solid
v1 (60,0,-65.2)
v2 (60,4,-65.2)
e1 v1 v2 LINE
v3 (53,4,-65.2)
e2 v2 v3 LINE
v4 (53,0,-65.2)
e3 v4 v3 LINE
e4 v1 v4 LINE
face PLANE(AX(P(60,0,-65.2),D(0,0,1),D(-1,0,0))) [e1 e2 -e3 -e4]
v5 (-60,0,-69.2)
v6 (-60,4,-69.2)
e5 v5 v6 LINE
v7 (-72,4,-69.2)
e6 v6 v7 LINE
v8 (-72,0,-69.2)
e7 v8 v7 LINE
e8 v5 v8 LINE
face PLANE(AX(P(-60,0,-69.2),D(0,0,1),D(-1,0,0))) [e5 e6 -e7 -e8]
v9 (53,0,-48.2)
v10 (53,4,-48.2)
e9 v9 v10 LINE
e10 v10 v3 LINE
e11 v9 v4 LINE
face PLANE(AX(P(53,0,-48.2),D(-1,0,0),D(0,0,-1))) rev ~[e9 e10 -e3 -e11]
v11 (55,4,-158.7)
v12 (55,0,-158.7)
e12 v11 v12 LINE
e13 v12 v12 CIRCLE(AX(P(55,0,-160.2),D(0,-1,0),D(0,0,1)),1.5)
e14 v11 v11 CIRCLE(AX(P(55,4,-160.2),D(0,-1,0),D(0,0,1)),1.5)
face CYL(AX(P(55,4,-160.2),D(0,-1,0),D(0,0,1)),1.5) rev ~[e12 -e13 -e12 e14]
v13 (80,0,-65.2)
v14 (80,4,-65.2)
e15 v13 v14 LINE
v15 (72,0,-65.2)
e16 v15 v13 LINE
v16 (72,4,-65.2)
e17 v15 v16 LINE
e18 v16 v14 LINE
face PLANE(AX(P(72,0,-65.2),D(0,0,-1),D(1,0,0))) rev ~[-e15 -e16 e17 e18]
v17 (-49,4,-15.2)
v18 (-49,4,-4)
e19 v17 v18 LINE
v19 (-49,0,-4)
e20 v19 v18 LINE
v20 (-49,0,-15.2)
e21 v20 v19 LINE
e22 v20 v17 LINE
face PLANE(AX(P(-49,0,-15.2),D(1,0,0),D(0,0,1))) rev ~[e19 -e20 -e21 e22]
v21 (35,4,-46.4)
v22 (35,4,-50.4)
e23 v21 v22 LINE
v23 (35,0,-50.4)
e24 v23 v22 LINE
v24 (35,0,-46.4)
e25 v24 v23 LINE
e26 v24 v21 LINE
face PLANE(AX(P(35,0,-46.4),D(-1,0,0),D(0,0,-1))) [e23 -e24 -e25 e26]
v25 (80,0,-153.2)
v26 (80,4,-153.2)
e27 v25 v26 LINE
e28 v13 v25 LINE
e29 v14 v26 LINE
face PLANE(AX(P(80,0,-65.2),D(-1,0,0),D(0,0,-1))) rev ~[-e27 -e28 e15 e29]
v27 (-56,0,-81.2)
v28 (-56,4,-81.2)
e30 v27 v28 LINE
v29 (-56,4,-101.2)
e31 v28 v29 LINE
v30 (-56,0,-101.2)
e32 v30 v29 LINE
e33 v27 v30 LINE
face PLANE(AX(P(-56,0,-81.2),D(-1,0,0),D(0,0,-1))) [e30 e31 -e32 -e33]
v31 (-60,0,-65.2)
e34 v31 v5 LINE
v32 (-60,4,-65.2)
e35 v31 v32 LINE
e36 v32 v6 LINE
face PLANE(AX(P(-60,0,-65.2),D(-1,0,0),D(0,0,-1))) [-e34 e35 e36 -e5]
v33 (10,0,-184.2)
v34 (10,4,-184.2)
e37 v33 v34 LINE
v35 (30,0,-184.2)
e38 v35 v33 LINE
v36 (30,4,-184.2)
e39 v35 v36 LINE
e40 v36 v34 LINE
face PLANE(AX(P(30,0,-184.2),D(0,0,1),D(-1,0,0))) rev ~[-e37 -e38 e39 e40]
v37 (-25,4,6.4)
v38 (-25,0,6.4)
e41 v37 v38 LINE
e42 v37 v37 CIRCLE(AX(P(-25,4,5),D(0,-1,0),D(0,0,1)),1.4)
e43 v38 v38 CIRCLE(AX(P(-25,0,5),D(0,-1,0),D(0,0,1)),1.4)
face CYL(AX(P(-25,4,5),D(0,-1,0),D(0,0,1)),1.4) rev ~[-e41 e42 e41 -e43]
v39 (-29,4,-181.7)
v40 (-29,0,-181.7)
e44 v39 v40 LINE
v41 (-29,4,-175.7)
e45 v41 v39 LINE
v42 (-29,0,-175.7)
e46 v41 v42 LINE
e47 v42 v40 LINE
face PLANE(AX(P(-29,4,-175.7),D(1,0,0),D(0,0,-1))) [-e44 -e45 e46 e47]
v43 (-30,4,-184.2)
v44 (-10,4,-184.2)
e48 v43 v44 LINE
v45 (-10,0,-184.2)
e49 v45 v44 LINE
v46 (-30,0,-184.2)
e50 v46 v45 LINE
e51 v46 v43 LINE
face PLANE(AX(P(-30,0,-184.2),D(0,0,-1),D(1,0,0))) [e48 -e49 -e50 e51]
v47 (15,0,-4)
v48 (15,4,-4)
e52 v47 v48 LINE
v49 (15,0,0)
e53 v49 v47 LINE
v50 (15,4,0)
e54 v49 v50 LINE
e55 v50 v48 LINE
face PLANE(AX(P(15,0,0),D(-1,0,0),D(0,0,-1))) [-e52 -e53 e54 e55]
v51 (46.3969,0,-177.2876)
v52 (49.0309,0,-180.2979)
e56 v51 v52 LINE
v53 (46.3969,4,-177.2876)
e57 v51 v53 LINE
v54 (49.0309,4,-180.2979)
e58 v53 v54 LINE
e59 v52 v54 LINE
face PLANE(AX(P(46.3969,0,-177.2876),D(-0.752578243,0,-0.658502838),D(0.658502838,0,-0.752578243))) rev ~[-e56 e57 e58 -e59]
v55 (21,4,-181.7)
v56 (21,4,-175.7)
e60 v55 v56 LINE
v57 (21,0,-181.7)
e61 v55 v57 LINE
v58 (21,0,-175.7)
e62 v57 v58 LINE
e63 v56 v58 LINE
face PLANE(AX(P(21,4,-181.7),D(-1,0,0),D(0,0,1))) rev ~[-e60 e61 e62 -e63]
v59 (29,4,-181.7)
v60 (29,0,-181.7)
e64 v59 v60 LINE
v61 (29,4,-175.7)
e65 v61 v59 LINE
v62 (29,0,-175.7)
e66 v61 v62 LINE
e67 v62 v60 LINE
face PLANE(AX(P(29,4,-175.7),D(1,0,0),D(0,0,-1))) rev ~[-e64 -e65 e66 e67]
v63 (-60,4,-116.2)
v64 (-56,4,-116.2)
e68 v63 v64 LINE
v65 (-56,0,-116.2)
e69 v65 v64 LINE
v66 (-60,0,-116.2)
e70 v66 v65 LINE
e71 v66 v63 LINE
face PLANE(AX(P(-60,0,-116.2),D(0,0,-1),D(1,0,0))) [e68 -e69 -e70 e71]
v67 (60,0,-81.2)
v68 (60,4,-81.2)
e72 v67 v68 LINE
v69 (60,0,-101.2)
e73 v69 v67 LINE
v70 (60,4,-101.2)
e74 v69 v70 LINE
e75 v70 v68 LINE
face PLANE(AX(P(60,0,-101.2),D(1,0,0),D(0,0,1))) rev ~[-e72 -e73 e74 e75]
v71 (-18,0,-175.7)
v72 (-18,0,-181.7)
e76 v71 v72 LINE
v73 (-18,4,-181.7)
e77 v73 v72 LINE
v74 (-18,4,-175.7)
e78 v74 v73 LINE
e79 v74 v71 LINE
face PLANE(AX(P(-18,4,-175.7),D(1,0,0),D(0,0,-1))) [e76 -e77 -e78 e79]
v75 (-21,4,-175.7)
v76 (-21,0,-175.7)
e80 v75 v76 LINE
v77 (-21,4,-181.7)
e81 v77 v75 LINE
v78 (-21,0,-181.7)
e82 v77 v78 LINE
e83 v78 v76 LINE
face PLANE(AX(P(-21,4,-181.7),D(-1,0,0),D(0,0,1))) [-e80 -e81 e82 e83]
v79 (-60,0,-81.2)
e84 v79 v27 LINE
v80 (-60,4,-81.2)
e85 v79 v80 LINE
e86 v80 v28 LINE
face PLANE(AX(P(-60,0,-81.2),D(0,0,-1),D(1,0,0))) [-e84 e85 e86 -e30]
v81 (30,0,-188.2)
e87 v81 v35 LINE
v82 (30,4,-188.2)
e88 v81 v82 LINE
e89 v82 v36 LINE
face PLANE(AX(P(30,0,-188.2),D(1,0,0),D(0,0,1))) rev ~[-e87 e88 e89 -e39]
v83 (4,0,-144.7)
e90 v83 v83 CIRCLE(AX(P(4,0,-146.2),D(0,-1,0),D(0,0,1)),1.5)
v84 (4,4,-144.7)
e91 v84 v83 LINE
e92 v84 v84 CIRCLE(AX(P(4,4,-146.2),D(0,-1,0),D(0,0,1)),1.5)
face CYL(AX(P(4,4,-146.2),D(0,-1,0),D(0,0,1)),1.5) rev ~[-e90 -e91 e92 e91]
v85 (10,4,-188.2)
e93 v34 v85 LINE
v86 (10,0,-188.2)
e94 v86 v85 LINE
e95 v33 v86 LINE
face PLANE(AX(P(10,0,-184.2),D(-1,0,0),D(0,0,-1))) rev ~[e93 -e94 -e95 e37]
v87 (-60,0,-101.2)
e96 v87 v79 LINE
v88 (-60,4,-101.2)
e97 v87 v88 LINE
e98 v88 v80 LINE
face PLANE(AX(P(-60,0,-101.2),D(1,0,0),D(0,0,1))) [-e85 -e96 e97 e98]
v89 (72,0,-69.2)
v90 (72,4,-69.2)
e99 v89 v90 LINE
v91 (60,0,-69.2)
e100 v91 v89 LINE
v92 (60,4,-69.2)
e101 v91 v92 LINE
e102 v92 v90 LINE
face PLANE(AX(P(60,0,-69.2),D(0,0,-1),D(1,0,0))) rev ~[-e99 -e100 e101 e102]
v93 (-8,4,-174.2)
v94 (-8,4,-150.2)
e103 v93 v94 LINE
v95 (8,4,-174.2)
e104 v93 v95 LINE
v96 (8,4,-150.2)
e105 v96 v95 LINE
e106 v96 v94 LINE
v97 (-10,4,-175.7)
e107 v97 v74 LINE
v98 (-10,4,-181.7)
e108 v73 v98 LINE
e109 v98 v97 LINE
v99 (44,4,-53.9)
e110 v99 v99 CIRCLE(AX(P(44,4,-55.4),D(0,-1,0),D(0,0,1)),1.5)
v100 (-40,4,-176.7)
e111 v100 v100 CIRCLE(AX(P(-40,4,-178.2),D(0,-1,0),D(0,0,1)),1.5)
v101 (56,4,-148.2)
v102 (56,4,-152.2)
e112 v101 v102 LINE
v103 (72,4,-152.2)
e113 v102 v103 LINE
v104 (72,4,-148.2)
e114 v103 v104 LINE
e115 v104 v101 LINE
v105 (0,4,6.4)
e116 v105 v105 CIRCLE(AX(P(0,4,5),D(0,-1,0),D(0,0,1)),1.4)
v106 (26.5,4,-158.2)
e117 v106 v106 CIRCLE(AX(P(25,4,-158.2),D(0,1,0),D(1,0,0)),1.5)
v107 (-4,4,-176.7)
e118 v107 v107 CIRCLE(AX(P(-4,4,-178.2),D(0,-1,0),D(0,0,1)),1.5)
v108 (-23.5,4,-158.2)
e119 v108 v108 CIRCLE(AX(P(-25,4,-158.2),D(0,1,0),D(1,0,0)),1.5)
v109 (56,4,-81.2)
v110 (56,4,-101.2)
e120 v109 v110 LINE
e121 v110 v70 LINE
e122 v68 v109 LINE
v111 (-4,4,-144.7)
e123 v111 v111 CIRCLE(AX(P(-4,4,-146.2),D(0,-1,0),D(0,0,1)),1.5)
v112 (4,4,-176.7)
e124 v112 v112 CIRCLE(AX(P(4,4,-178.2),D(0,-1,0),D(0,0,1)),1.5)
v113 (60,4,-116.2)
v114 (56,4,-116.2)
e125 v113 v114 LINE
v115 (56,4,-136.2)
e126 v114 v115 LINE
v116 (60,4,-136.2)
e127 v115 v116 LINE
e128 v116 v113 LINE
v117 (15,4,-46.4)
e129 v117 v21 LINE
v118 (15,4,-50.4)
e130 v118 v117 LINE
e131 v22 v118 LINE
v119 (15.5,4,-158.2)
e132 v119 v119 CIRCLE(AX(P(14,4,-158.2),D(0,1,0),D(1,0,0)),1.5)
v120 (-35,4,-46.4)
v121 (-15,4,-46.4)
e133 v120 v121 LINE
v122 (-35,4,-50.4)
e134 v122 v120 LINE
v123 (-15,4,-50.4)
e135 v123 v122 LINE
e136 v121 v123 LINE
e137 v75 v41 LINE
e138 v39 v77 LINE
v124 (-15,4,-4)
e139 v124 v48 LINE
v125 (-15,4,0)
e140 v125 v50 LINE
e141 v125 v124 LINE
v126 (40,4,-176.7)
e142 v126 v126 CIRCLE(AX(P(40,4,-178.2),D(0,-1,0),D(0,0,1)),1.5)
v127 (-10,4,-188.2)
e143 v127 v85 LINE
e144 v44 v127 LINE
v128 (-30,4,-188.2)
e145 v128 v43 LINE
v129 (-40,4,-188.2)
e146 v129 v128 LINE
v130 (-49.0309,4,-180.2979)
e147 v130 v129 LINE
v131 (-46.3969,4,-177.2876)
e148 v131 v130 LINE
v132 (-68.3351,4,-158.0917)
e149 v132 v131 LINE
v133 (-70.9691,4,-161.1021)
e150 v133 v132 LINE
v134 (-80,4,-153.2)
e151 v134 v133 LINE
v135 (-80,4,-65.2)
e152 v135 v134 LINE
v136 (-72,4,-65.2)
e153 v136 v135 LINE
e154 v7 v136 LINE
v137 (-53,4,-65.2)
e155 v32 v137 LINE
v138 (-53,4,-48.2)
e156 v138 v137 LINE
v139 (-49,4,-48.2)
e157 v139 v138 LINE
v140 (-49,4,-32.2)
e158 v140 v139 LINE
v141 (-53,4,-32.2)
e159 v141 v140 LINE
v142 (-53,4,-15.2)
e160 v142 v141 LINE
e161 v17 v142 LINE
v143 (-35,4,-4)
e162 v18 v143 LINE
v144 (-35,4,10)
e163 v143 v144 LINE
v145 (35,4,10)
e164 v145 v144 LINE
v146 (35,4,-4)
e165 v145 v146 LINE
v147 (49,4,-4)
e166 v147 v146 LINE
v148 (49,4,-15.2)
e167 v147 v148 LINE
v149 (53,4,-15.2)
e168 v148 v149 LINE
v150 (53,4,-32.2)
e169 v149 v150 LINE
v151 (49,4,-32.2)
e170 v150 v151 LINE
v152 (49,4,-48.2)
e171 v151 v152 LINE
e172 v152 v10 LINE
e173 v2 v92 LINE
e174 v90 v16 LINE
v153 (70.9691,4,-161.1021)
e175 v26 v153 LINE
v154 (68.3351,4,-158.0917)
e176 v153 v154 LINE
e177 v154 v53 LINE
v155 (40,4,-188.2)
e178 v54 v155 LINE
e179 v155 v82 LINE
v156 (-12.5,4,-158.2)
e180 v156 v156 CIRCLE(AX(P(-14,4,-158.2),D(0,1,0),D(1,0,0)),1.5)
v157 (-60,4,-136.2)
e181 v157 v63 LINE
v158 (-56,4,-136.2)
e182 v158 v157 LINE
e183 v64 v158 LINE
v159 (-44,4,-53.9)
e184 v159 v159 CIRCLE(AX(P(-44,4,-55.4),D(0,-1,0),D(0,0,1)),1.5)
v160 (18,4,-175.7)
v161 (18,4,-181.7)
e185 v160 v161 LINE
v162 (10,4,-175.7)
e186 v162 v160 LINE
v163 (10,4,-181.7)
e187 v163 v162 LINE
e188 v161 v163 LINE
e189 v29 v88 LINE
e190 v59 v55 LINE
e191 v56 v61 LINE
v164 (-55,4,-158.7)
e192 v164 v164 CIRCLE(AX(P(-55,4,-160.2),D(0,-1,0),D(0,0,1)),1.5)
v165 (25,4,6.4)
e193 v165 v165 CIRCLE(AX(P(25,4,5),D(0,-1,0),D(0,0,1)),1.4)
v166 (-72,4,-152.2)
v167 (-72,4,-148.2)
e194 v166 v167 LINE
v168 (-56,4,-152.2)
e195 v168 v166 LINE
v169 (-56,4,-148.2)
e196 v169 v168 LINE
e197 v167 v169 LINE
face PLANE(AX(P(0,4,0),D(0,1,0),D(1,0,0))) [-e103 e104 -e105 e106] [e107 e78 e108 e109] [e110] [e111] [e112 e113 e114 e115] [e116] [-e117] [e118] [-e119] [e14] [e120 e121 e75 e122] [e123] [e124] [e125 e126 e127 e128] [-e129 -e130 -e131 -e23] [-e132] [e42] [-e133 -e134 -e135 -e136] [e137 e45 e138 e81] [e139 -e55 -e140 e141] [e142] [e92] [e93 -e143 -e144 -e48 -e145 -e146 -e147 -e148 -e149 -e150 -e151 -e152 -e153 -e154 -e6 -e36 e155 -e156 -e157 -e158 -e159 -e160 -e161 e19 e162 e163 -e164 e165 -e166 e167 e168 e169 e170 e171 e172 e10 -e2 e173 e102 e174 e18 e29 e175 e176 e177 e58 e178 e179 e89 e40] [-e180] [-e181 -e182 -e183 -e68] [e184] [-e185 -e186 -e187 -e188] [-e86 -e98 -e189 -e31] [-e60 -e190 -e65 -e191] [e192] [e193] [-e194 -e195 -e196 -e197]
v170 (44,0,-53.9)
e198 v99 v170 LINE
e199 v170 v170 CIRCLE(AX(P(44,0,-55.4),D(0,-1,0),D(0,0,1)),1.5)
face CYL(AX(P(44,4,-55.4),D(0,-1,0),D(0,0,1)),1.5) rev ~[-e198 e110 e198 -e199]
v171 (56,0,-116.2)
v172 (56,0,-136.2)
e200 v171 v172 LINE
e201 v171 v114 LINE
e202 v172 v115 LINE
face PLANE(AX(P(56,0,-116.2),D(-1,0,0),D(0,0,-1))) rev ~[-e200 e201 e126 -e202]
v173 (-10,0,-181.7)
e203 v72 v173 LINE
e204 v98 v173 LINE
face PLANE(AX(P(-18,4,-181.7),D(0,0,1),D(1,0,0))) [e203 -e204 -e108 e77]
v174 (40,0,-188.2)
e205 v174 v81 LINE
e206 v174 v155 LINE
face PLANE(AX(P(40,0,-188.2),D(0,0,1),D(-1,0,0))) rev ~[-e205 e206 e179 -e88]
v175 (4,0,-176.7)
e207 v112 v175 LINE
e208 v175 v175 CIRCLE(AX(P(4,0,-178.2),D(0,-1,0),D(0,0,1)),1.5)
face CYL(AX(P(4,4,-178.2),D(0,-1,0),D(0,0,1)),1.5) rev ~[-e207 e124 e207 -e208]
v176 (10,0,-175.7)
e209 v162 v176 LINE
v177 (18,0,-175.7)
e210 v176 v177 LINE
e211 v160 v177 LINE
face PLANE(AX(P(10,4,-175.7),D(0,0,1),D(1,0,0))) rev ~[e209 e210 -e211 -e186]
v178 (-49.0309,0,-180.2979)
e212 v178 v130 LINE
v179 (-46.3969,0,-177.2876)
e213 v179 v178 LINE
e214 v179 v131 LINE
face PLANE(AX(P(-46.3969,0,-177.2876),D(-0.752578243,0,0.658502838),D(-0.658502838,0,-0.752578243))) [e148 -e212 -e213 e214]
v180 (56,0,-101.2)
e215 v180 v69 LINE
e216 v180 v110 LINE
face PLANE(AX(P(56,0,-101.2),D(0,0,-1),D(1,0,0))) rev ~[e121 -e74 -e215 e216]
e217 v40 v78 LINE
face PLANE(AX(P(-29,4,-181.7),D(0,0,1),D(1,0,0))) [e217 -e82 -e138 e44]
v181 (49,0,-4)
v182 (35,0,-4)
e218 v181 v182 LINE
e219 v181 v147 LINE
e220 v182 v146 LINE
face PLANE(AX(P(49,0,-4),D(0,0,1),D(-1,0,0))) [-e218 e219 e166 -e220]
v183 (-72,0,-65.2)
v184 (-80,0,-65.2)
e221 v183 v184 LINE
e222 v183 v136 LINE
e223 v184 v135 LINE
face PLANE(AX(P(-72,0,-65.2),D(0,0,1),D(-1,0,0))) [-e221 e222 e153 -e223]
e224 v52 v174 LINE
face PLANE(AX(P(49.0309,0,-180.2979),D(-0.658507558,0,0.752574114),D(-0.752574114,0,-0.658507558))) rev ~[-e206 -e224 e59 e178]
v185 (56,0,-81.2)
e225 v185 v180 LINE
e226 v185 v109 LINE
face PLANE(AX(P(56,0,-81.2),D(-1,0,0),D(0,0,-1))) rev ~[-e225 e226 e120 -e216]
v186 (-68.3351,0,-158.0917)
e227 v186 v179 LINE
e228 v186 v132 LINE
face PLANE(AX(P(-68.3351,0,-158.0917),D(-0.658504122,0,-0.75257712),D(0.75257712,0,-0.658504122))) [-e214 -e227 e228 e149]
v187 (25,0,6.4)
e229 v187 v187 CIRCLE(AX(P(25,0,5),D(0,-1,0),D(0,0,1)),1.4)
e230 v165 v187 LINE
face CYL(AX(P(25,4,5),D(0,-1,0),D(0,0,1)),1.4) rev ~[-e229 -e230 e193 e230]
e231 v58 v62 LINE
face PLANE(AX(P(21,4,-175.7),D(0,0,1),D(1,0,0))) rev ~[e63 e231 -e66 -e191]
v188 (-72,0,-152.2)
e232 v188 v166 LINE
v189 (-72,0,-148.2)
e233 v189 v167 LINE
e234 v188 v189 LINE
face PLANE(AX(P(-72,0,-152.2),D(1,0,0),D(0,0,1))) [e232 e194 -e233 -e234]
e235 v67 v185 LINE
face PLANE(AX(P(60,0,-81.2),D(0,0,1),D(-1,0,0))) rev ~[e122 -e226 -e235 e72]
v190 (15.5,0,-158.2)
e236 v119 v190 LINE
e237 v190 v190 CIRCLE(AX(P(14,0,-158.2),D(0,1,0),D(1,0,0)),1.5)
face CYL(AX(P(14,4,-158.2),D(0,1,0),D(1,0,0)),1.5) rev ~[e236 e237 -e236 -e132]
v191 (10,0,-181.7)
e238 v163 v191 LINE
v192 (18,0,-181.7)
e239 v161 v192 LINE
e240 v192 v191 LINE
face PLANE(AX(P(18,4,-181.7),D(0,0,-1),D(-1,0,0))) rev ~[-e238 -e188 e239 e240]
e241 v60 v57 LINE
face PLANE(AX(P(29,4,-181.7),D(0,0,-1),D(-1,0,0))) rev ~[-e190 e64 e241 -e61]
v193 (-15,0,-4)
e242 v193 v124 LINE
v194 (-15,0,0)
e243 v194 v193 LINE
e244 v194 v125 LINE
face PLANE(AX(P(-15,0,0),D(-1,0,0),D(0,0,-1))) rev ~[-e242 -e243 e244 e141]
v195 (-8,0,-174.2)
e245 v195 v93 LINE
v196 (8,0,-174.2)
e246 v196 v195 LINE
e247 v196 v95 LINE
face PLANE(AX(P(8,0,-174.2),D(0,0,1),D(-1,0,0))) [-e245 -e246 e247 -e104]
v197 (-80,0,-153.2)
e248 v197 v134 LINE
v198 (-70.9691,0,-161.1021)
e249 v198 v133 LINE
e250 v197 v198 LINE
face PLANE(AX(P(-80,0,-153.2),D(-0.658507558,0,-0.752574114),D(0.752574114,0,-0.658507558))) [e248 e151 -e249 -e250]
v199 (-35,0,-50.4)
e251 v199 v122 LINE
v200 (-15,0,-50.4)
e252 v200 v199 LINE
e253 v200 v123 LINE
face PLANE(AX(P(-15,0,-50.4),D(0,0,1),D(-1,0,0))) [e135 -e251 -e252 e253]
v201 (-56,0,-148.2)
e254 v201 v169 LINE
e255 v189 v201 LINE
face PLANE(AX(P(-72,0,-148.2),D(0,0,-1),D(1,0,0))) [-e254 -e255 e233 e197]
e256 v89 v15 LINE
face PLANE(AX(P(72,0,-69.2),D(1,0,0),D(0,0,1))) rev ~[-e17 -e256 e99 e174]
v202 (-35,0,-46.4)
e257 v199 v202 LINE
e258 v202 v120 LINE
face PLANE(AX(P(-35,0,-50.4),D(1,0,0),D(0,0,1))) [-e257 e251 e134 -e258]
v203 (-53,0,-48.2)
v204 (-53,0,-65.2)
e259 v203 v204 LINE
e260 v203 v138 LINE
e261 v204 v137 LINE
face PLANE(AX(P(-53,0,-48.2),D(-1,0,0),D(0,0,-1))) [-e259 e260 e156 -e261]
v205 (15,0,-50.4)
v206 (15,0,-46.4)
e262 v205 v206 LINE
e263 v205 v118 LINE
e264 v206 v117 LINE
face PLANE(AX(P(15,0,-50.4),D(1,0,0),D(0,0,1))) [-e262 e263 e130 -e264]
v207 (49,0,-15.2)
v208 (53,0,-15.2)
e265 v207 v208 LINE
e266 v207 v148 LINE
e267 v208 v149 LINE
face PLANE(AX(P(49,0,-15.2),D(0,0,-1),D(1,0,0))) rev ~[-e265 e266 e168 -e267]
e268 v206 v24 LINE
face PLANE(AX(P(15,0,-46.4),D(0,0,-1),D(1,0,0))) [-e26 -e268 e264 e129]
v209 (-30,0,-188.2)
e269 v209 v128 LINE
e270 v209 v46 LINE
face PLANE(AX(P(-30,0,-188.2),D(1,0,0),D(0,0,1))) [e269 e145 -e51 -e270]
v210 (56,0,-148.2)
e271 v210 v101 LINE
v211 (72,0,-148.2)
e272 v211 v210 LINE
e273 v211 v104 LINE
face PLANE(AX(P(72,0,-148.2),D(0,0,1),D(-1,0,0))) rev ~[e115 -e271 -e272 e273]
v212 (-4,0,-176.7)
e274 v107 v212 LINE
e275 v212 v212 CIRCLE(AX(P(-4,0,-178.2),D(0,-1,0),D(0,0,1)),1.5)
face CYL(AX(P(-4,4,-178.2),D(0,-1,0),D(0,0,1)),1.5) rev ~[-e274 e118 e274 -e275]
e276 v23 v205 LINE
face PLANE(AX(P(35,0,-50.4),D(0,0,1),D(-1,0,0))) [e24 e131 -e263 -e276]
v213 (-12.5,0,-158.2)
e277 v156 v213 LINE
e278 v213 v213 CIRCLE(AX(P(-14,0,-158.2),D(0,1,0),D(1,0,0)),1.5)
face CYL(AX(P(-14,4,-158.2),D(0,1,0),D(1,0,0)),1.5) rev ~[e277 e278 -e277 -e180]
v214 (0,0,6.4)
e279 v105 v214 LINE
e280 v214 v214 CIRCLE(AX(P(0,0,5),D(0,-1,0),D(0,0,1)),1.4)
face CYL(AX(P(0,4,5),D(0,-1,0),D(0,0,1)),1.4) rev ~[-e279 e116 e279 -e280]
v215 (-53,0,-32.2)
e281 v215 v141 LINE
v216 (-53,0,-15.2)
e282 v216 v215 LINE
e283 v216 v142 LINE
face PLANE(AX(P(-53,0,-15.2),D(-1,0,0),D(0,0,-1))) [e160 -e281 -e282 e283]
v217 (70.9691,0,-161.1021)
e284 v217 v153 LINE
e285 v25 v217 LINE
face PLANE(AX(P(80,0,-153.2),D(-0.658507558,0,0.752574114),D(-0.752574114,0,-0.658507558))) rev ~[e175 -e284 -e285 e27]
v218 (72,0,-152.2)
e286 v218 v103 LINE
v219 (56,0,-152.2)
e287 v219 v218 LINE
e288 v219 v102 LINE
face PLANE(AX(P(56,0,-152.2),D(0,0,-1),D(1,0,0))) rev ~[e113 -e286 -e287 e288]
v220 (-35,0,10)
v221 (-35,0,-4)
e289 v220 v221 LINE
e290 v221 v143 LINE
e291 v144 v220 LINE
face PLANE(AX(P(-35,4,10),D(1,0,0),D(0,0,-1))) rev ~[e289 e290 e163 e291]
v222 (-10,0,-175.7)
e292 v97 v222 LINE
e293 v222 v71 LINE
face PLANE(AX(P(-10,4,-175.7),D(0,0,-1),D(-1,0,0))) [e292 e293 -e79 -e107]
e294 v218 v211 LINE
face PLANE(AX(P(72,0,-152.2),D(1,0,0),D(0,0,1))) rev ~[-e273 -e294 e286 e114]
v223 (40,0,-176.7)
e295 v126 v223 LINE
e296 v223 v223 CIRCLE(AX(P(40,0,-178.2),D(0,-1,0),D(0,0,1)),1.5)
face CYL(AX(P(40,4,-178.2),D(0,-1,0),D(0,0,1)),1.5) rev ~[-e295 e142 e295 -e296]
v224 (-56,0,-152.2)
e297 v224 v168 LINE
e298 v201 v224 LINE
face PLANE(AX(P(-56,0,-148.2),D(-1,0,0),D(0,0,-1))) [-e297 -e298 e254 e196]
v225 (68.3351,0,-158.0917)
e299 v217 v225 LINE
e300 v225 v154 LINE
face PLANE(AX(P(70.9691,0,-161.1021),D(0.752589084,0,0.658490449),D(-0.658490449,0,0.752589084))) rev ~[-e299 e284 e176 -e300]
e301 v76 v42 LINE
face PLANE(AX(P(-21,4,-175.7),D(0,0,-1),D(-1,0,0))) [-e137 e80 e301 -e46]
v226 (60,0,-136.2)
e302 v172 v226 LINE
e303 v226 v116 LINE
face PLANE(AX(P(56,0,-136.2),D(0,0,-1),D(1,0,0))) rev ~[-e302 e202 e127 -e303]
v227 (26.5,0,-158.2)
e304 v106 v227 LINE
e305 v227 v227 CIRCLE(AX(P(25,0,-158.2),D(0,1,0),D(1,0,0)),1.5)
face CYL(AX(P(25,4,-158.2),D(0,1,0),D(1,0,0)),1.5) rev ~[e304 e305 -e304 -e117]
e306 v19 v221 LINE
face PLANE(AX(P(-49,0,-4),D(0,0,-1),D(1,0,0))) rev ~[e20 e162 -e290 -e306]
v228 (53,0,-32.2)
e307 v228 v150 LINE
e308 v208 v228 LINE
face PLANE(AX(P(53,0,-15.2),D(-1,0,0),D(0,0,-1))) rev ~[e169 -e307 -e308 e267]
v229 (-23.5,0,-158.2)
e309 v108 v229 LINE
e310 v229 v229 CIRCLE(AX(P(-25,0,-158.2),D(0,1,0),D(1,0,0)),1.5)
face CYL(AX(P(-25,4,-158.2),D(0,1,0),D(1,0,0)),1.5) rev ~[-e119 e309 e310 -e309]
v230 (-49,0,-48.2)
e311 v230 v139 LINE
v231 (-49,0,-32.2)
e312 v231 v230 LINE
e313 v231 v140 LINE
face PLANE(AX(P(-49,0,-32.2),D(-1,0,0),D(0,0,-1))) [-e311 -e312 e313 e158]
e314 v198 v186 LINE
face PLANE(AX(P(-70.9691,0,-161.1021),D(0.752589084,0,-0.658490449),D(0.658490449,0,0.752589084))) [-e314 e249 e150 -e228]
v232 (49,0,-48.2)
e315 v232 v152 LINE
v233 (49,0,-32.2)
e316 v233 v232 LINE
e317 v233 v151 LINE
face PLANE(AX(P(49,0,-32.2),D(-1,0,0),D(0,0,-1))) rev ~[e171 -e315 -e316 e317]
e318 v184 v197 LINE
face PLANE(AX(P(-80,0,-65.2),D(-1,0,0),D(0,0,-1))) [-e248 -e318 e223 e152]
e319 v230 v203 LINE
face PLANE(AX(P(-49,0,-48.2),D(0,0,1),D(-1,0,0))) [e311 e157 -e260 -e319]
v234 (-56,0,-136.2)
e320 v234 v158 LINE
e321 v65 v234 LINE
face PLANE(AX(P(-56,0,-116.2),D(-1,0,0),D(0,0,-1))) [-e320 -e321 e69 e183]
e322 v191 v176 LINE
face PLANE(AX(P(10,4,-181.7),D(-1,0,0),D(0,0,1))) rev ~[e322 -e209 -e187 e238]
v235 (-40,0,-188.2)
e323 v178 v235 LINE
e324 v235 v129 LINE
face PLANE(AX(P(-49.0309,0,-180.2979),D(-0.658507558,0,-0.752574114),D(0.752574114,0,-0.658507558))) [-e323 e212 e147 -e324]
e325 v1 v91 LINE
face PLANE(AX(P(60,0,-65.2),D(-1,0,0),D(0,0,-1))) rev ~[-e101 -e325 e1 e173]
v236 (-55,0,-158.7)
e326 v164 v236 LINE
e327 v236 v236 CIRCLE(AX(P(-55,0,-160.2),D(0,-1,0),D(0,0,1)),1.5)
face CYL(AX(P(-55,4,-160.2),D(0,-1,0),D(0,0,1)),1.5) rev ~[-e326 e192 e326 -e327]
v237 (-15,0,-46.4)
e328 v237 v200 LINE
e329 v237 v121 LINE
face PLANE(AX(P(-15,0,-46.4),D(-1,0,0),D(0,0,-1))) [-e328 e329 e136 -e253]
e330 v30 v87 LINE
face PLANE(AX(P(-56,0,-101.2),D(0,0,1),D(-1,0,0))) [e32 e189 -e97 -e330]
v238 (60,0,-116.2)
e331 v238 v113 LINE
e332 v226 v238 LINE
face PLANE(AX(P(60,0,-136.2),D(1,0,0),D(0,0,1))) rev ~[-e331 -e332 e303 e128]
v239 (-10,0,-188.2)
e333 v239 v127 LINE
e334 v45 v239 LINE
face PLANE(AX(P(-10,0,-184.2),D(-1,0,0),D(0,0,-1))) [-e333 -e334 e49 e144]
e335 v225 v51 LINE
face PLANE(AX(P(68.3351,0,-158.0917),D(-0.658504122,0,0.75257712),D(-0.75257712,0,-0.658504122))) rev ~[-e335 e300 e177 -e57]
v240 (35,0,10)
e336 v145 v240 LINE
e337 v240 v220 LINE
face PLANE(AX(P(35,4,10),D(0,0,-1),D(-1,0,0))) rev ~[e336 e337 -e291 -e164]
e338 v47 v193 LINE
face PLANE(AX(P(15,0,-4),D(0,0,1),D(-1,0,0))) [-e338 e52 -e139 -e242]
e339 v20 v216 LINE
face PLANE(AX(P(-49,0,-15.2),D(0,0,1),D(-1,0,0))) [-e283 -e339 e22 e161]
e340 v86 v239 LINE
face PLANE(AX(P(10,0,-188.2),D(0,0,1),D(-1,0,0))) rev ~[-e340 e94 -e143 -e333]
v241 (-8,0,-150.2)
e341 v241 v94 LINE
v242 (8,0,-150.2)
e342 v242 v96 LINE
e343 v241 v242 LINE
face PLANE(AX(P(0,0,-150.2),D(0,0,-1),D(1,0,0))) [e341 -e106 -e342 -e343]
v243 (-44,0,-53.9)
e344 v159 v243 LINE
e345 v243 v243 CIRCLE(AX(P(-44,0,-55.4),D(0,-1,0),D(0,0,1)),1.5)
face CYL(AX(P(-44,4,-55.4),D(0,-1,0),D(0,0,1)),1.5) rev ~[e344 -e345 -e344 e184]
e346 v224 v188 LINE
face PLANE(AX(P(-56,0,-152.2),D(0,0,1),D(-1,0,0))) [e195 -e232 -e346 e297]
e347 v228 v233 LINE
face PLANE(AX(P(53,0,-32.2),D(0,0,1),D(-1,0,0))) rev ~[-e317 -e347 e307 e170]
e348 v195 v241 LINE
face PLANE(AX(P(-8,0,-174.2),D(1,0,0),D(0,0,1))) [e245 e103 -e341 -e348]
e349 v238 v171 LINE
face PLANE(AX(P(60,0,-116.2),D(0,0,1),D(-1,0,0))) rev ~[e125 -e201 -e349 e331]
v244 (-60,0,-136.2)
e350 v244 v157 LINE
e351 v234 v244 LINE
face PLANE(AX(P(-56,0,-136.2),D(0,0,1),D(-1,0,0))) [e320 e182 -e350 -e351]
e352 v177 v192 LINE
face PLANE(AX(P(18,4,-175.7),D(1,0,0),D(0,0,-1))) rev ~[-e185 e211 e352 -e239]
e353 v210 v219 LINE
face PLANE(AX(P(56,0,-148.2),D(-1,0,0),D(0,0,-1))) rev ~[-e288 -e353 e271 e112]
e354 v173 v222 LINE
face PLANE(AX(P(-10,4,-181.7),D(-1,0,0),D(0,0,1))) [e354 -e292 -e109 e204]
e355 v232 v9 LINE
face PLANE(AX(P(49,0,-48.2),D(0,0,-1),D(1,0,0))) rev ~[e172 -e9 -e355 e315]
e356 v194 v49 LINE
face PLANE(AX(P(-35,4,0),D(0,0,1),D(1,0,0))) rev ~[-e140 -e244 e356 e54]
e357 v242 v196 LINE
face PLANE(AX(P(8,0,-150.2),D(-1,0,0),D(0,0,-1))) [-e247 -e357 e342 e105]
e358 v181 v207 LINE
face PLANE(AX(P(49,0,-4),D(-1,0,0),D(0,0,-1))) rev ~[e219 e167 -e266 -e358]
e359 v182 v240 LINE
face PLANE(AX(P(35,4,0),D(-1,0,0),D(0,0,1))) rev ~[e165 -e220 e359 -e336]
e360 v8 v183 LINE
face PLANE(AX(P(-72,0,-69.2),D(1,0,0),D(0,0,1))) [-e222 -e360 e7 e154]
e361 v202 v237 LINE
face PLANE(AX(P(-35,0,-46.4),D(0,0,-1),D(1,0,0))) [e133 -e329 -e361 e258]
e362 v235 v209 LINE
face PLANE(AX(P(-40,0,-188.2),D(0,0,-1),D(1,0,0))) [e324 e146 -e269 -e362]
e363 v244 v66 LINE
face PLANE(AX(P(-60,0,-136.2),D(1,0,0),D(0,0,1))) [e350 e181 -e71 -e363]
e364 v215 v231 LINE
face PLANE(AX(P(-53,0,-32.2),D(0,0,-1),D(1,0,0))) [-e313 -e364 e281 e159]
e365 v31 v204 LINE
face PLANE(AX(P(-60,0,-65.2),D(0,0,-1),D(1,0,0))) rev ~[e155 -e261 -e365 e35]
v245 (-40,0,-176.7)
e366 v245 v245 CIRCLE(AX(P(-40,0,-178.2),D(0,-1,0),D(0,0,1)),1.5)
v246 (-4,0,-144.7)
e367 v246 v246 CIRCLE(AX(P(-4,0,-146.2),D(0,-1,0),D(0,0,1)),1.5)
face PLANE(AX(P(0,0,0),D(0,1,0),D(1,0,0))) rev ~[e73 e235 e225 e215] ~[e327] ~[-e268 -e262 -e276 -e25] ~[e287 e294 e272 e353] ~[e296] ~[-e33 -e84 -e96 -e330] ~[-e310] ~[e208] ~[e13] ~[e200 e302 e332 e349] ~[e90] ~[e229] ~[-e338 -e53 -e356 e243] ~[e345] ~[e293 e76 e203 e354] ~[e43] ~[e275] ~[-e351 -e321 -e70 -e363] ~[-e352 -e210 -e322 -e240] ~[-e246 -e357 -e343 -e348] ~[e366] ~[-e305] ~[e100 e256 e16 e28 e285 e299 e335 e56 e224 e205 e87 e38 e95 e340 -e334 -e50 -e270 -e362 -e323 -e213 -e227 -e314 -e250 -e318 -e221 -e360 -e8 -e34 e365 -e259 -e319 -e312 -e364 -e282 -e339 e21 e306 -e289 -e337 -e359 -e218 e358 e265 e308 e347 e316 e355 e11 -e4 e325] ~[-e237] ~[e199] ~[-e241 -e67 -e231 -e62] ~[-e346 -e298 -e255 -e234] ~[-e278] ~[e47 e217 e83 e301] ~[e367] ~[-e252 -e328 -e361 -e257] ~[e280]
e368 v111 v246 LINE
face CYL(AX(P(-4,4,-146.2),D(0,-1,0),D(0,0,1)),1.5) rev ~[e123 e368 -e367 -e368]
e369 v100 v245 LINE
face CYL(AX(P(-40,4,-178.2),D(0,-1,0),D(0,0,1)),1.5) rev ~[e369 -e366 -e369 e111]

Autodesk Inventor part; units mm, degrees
ref_plane "YZ Plane" through (0, 0, 0) normal (1, 0, 0) x (0, 1, 0)
ref_plane "XZ Plane" through (0, 0, 0) normal (0, 1, 0) x (-1, 0, 0)
ref_plane "XY Plane" through (0, 0, 0) normal (0, 0, 1) x (1, 0, 0)
sketch "Эскиз1" plane through (0, 0, 0) normal (0, 1, 0) x (-1, 0, 0)
  line L0 (40, -188.2) -> (80, -153.2) construction
  line L1 (80, -153.2) -> (80, -65.2) construction
  line L2 (0, -188.2) -> (0, 0)
  line L3 (80, -65.2) -> (53, -65.2) construction
  line L4 (53, -65.2) -> (53, 0) construction
  line L5 (40, -188.2) -> (0, -188.2) construction
  line L6 (53, 0) -> (0, 0) construction
  line L7 (49, -15.2) -> (53, -15.2)
  line L8 (53, -15.2) -> (53, -32.2)
  line L9 (53, -32.2) -> (49, -32.2)
  line L10 (49, -32.2) -> (49, -48.2)
  line L11 (49, -48.2) -> (53, -48.2)
  line L12 (60, -65.2) -> (60, -69.2)
  line L13 (60, -69.2) -> (72, -69.2)
  line L14 (72, -69.2) -> (72, -65.2)
  line L15 (72, -65.2) -> (80, -65.2)
  line L16 (80, -65.2) -> (80, -153.2)
  line L17 (80, -153.2) -> (70.9691, -161.1021)
  line L18 (70.9691, -161.1021) -> (68.3351, -158.0917)
  line L19 (46.3969, -177.2876) -> (49.0309, -180.2979)
  line L20 (49.0309, -180.2979) -> (40, -188.2)
  line L21 (40, -188.2) -> (30, -188.2)
  line L22 (30, -188.2) -> (30, -184.2)
  line L23 (30, -184.2) -> (10, -184.2)
  line L24 (10, -184.2) -> (10, -188.2)
  line L25 (-40, -188.2) -> (-80, -153.2) construction
  line L26 (-80, -153.2) -> (-80, -65.2) construction
  line L27 (-80, -65.2) -> (-53, -65.2) construction
  line L28 (-53, -65.2) -> (-53, 0) construction
  line L29 (-40, -188.2) -> (0, -188.2) construction
  line L30 (-53, 0) -> (0, 0) construction
  line L31 (-49, -15.2) -> (-53, -15.2)
  line L32 (-53, -15.2) -> (-53, -32.2)
  line L33 (-53, -32.2) -> (-49, -32.2)
  line L34 (-49, -32.2) -> (-49, -48.2)
  line L35 (-49, -48.2) -> (-53, -48.2)
  line L36 (-60, -65.2) -> (-60, -69.2)
  line L37 (-60, -69.2) -> (-72, -69.2)
  line L38 (-72, -69.2) -> (-72, -65.2)
  line L39 (-72, -65.2) -> (-80, -65.2)
  line L40 (-80, -65.2) -> (-80, -153.2)
  line L41 (-40, -188.2) -> (-30, -188.2)
  line L42 (-30, -188.2) -> (-30, -184.2)
  line L43 (-30, -184.2) -> (-10, -184.2)
  line L44 (-10, -184.2) -> (-10, -188.2)
  line L45 (-10, -188.2) -> (10, -188.2)
  line L46 (68.3351, -158.0917) -> (46.3969, -177.2876)
  line L47 (-80, -153.2) -> (-70.9691, -161.1021)
  line L48 (-70.9691, -161.1021) -> (-68.3351, -158.0917)
  line L49 (-46.3969, -177.2876) -> (-49.0309, -180.2979)
  line L50 (-49.0309, -180.2979) -> (-40, -188.2)
  line L51 (-68.3351, -158.0917) -> (-46.3969, -177.2876)
  line L52 (60, -81.2) -> (56, -81.2)
  line L53 (56, -81.2) -> (56, -101.2)
  line L54 (56, -101.2) -> (60, -101.2)
  line L55 (60, -101.2) -> (60, -81.2)
  line L56 (60, -116.2) -> (56, -116.2)
  line L57 (56, -116.2) -> (56, -136.2)
  line L58 (56, -136.2) -> (60, -136.2)
  line L59 (60, -136.2) -> (60, -116.2)
  line L60 (72, -148.2) -> (56, -148.2)
  line L61 (56, -148.2) -> (56, -152.2)
  line L62 (56, -152.2) -> (72, -152.2)
  line L63 (72, -152.2) -> (72, -148.2)
  line L64 (-60, -81.2) -> (-56, -81.2)
  line L65 (-56, -81.2) -> (-56, -101.2)
  line L66 (-56, -101.2) -> (-60, -101.2)
  line L67 (-60, -101.2) -> (-60, -81.2)
  line L68 (-60, -116.2) -> (-56, -116.2)
  line L69 (-56, -116.2) -> (-56, -136.2)
  line L70 (-56, -136.2) -> (-60, -136.2)
  line L71 (-60, -136.2) -> (-60, -116.2)
  line L72 (-72, -148.2) -> (-56, -148.2)
  line L73 (-56, -148.2) -> (-56, -152.2)
  line L74 (-56, -152.2) -> (-72, -152.2)
  line L75 (-72, -152.2) -> (-72, -148.2)
  line L76 (40, -188.2) -> (40, -184.2) construction
  line L77 (40, -184.2) -> (30, -184.2) construction
  line L78 (53, -48.2) -> (53, -65.2)
  line L79 (60, -65.2) -> (53, -65.2)
  line L80 (-53, -48.2) -> (-53, -65.2)
  line L81 (-60, -65.2) -> (-53, -65.2)
  line L82 (49, -15.2) -> (49, -4)
  line L83 (49, -4) -> (35, -4)
  line L84 (35, -4) -> (35, 0)
  line L85 (35, 0) -> (15, 0)
  line L86 (15, 0) -> (15, -4)
  line L87 (15, -4) -> (0, -4)
  line L88 (-49, -4) -> (-35, -4)
  line L89 (-35, -4) -> (-35, 0)
  line L90 (-35, 0) -> (-15, 0)
  line L91 (-15, 0) -> (-15, -4)
  line L92 (-15, -4) -> (0, -4)
  line L93 (-49, -4) -> (-49, -15.2)
  line L94 (35, -46.4) -> (15, -46.4)
  line L95 (15, -46.4) -> (15, -50.4)
  line L96 (15, -50.4) -> (35, -50.4)
  line L97 (35, -50.4) -> (35, -46.4)
  line L98 (-15, -46.4) -> (-35, -46.4)
  line L99 (-35, -46.4) -> (-35, -50.4)
  line L100 (-35, -50.4) -> (-15, -50.4)
  line L101 (-15, -50.4) -> (-15, -46.4)
  line L102 (8, -150.2) -> (-8, -150.2)
  line L103 (-8, -150.2) -> (-8, -174.2)
  line L104 (-8, -174.2) -> (8, -174.2)
  line L105 (8, -174.2) -> (8, -150.2)
  line L106 (8, -150.2) -> (-8, -174.2) construction
  line L107 (-8, -150.2) -> (8, -174.2) construction
  point P0 (0, -162.2)
  dimension "d1" = 160
  dimension "d2" = 106
  dimension "d3" = 65.2
  dimension "d5" = 80
  dimension "d6" = 88
  dimension "d7" = 27
  dimension "d14" = 4
  dimension "d15" = 15.2
  dimension "d16" = 16
  dimension "d19" = 17
  dimension "d20" = 12
  dimension "d21" = 8
  dimension "d25" = 12
  dimension "d26" = 12
  dimension "d29" = 20
  dimension "d32" = 10
  dimension "d35" = 20
  dimension "d37" = 29.1507
  dimension "d38" = 20
  dimension "d39" = 20
  dimension "d40" = 15
  dimension "d41" = 12
  dimension "d42" = 16
  dimension "d44" = 12
  dimension "d45" = 8
  dimension "d46" = 1
  dimension "d47" = 17
  dimension "d48" = 35
  dimension "d50" = 20
  dimension "d51" = 30
  dimension "d52" = 14
  dimension "d53" = 20
  dimension "d54" = 30
  dimension "d55" = 46.4
  dimension "d56" = 24
  dimension "d57" = 16
  dimension "d58" = 10
extrude "Выдавливание1" add sketch "Эскиз1" along normal blind 4 contours L45 L44 L43 L42 L41 L50 L49 L51 L48 L47 L40 L39 L38 L37 L36 L81 L80 L35 L34 L33 L32 L31 L93 L88 L89 L90 L91 L92 L2 L102 L103 L104 | L2 L104 L105 L102 L87 L86 L85 L84 L83 L82 L7 L8 L9 L10 L11 L78 L79 L12 L13 L14 L15 L16 L17 L18 L46 L19 L20 L21 L22 L23 L24 L45
sketch "Эскиз3" plane through (0, 4, 0) normal (0, 1, 0) x (1, 0, 0)
  line L0 (-8, 150.2) -> (-8, 174.2) projected
  line L1 (-8, 162.2) -> (8, 162.2)
  line L2 (8, 174.2) -> (8, 150.2) projected
  line L3 (-8, 174.2) -> (8, 174.2) projected
  line L4 (0, 174.2) -> (0, 158.8523)
  line L5 (-49, 48.2) -> (-49, 32.2) projected
  line L6 (-35, 50.4) -> (-15, 50.4) projected
  line L7 (-30, 188.2) -> (-40, 188.2) projected
  line L8 (-80, 153.2) -> (-80, 65.2) projected
  point P0 (0, 0)
  point P1 (-4, 146.2)
  point P2 (4, 146.2)
  point P3 (-4, 178.2)
  point P4 (4, 178.2)
  point P5 (44, 55.4)
  point P6 (-44, 55.4)
  point P7 (40, 178.2)
  point P8 (55, 160.2)
  point P9 (-40, 178.2)
  point P10 (-55, 160.2)
  dimension "d66" = 8
  dimension "d67" = 32
  dimension "d83" = 5
  dimension "d84" = 5
  dimension "d85" = 10
  dimension "d86" = 28
  dimension "d87" = 25
  dimension "d88" = 40
hole "Отверстие1" at (-4, 4, -146.2) at (4, 4, -146.2) at (-4, 4, -178.2) at (4, 4, -178.2) at (44, 4, -55.4) at (-44, 4, -55.4) at (40, 4, -178.2) at (55, 4, -160.2) at (-40, 4, -178.2) at (-55, 4, -160.2) direction (0, -1, 0) diameter 3 end through all
sketch "Эскиз4" plane through (0, 4, 0) normal (0, 1, 0) x (1, 0, 0)
  line L0 (-10, 175.7) -> (-18, 175.7)
  line L1 (-18, 175.7) -> (-18, 181.7)
  line L2 (-18, 181.7) -> (-10, 181.7)
  line L3 (-10, 181.7) -> (-10, 175.7)
  line L4 (-8, 150.2) -> (-8, 174.2) projected
  line L5 (-10, 184.2) -> (-30, 184.2) projected
  circle A0 centre (-14, 158.2) radius 1.5
  line L6 (-21, 175.7) -> (-29, 175.7)
  line L7 (-29, 175.7) -> (-29, 181.7)
  line L8 (-29, 181.7) -> (-21, 181.7)
  line L9 (-21, 181.7) -> (-21, 175.7)
  circle A1 centre (-25, 158.2) radius 1.5
  line L10 (-8, 150.2) -> (8, 150.2) projected
  line L11 (0, 150.2) -> (0, 174.2)
  line L12 (-8, 174.2) -> (8, 174.2) projected
  line L13 (10, 175.7) -> (18, 175.7)
  line L14 (18, 175.7) -> (18, 181.7)
  line L15 (18, 181.7) -> (10, 181.7)
  line L16 (10, 181.7) -> (10, 175.7)
  circle A2 centre (14, 158.2) radius 1.5
  line L17 (21, 175.7) -> (29, 175.7)
  line L18 (29, 175.7) -> (29, 181.7)
  line L19 (29, 181.7) -> (21, 181.7)
  line L20 (21, 181.7) -> (21, 175.7)
  circle A3 centre (25, 158.2) radius 1.5
  point P0 (0, 0)
  point P1 (-14, 175.7)
  point P2 (-25, 175.7)
  point P3 (14, 175.7)
  point P4 (25, 175.7)
  dimension "d68" = 8
  dimension "d69" = 6
  dimension "d70" = 2
  dimension "d71" = 2.5
  dimension "d72" = 3
  dimension "d73" = 17.5
  dimension "d76" = 11
extrude "Выдавливание2" cut sketch "Эскиз4" against normal through all contours L0 L1 L2 L3 | A0 | L6 L7 L8 L9 | A1 | L16 L15 L14 L13 | A2 | L20 L19 L18 L17 | A3
sketch "Эскиз5" plane through (0, 4, 0) normal (0, 1, 0) x (1, 0, 0)
  line L0 (-35, 4) -> (-35, 0) projected
  line L1 (-35, 0) -> (35, 0)
  line L2 (35, 0) -> (35, -10)
  line L3 (35, -10) -> (-35, -10)
  line L4 (-35, -10) -> (-35, 0)
  point P0 (0, 0)
  dimension "d89" = 10
extrude "Выдавливание3" add sketch "Эскиз5" against normal blind 4
sketch "Эскиз6" plane through (0, 4, 0) normal (0, 1, 0) x (1, 0, 0)
  line L0 (35, -10) -> (-35, -10) projected
  line L1 (0, -10) -> (0, 188.2)
  line L2 (10, 188.2) -> (-10, 188.2) projected
  point P0 (0, 0)
  point P1 (-25, -5)
  point P2 (25, -5)
  point P3 (0, -5)
  dimension "d99" = 5
  dimension "d100" = 50
hole "Отверстие2" at (-25, 4, 5) at (25, 4, 5) at (0, 4, 5) direction (0, -1, 0) diameter 2.8 end through all
properties part number "base" material "Дерево (береза)"
